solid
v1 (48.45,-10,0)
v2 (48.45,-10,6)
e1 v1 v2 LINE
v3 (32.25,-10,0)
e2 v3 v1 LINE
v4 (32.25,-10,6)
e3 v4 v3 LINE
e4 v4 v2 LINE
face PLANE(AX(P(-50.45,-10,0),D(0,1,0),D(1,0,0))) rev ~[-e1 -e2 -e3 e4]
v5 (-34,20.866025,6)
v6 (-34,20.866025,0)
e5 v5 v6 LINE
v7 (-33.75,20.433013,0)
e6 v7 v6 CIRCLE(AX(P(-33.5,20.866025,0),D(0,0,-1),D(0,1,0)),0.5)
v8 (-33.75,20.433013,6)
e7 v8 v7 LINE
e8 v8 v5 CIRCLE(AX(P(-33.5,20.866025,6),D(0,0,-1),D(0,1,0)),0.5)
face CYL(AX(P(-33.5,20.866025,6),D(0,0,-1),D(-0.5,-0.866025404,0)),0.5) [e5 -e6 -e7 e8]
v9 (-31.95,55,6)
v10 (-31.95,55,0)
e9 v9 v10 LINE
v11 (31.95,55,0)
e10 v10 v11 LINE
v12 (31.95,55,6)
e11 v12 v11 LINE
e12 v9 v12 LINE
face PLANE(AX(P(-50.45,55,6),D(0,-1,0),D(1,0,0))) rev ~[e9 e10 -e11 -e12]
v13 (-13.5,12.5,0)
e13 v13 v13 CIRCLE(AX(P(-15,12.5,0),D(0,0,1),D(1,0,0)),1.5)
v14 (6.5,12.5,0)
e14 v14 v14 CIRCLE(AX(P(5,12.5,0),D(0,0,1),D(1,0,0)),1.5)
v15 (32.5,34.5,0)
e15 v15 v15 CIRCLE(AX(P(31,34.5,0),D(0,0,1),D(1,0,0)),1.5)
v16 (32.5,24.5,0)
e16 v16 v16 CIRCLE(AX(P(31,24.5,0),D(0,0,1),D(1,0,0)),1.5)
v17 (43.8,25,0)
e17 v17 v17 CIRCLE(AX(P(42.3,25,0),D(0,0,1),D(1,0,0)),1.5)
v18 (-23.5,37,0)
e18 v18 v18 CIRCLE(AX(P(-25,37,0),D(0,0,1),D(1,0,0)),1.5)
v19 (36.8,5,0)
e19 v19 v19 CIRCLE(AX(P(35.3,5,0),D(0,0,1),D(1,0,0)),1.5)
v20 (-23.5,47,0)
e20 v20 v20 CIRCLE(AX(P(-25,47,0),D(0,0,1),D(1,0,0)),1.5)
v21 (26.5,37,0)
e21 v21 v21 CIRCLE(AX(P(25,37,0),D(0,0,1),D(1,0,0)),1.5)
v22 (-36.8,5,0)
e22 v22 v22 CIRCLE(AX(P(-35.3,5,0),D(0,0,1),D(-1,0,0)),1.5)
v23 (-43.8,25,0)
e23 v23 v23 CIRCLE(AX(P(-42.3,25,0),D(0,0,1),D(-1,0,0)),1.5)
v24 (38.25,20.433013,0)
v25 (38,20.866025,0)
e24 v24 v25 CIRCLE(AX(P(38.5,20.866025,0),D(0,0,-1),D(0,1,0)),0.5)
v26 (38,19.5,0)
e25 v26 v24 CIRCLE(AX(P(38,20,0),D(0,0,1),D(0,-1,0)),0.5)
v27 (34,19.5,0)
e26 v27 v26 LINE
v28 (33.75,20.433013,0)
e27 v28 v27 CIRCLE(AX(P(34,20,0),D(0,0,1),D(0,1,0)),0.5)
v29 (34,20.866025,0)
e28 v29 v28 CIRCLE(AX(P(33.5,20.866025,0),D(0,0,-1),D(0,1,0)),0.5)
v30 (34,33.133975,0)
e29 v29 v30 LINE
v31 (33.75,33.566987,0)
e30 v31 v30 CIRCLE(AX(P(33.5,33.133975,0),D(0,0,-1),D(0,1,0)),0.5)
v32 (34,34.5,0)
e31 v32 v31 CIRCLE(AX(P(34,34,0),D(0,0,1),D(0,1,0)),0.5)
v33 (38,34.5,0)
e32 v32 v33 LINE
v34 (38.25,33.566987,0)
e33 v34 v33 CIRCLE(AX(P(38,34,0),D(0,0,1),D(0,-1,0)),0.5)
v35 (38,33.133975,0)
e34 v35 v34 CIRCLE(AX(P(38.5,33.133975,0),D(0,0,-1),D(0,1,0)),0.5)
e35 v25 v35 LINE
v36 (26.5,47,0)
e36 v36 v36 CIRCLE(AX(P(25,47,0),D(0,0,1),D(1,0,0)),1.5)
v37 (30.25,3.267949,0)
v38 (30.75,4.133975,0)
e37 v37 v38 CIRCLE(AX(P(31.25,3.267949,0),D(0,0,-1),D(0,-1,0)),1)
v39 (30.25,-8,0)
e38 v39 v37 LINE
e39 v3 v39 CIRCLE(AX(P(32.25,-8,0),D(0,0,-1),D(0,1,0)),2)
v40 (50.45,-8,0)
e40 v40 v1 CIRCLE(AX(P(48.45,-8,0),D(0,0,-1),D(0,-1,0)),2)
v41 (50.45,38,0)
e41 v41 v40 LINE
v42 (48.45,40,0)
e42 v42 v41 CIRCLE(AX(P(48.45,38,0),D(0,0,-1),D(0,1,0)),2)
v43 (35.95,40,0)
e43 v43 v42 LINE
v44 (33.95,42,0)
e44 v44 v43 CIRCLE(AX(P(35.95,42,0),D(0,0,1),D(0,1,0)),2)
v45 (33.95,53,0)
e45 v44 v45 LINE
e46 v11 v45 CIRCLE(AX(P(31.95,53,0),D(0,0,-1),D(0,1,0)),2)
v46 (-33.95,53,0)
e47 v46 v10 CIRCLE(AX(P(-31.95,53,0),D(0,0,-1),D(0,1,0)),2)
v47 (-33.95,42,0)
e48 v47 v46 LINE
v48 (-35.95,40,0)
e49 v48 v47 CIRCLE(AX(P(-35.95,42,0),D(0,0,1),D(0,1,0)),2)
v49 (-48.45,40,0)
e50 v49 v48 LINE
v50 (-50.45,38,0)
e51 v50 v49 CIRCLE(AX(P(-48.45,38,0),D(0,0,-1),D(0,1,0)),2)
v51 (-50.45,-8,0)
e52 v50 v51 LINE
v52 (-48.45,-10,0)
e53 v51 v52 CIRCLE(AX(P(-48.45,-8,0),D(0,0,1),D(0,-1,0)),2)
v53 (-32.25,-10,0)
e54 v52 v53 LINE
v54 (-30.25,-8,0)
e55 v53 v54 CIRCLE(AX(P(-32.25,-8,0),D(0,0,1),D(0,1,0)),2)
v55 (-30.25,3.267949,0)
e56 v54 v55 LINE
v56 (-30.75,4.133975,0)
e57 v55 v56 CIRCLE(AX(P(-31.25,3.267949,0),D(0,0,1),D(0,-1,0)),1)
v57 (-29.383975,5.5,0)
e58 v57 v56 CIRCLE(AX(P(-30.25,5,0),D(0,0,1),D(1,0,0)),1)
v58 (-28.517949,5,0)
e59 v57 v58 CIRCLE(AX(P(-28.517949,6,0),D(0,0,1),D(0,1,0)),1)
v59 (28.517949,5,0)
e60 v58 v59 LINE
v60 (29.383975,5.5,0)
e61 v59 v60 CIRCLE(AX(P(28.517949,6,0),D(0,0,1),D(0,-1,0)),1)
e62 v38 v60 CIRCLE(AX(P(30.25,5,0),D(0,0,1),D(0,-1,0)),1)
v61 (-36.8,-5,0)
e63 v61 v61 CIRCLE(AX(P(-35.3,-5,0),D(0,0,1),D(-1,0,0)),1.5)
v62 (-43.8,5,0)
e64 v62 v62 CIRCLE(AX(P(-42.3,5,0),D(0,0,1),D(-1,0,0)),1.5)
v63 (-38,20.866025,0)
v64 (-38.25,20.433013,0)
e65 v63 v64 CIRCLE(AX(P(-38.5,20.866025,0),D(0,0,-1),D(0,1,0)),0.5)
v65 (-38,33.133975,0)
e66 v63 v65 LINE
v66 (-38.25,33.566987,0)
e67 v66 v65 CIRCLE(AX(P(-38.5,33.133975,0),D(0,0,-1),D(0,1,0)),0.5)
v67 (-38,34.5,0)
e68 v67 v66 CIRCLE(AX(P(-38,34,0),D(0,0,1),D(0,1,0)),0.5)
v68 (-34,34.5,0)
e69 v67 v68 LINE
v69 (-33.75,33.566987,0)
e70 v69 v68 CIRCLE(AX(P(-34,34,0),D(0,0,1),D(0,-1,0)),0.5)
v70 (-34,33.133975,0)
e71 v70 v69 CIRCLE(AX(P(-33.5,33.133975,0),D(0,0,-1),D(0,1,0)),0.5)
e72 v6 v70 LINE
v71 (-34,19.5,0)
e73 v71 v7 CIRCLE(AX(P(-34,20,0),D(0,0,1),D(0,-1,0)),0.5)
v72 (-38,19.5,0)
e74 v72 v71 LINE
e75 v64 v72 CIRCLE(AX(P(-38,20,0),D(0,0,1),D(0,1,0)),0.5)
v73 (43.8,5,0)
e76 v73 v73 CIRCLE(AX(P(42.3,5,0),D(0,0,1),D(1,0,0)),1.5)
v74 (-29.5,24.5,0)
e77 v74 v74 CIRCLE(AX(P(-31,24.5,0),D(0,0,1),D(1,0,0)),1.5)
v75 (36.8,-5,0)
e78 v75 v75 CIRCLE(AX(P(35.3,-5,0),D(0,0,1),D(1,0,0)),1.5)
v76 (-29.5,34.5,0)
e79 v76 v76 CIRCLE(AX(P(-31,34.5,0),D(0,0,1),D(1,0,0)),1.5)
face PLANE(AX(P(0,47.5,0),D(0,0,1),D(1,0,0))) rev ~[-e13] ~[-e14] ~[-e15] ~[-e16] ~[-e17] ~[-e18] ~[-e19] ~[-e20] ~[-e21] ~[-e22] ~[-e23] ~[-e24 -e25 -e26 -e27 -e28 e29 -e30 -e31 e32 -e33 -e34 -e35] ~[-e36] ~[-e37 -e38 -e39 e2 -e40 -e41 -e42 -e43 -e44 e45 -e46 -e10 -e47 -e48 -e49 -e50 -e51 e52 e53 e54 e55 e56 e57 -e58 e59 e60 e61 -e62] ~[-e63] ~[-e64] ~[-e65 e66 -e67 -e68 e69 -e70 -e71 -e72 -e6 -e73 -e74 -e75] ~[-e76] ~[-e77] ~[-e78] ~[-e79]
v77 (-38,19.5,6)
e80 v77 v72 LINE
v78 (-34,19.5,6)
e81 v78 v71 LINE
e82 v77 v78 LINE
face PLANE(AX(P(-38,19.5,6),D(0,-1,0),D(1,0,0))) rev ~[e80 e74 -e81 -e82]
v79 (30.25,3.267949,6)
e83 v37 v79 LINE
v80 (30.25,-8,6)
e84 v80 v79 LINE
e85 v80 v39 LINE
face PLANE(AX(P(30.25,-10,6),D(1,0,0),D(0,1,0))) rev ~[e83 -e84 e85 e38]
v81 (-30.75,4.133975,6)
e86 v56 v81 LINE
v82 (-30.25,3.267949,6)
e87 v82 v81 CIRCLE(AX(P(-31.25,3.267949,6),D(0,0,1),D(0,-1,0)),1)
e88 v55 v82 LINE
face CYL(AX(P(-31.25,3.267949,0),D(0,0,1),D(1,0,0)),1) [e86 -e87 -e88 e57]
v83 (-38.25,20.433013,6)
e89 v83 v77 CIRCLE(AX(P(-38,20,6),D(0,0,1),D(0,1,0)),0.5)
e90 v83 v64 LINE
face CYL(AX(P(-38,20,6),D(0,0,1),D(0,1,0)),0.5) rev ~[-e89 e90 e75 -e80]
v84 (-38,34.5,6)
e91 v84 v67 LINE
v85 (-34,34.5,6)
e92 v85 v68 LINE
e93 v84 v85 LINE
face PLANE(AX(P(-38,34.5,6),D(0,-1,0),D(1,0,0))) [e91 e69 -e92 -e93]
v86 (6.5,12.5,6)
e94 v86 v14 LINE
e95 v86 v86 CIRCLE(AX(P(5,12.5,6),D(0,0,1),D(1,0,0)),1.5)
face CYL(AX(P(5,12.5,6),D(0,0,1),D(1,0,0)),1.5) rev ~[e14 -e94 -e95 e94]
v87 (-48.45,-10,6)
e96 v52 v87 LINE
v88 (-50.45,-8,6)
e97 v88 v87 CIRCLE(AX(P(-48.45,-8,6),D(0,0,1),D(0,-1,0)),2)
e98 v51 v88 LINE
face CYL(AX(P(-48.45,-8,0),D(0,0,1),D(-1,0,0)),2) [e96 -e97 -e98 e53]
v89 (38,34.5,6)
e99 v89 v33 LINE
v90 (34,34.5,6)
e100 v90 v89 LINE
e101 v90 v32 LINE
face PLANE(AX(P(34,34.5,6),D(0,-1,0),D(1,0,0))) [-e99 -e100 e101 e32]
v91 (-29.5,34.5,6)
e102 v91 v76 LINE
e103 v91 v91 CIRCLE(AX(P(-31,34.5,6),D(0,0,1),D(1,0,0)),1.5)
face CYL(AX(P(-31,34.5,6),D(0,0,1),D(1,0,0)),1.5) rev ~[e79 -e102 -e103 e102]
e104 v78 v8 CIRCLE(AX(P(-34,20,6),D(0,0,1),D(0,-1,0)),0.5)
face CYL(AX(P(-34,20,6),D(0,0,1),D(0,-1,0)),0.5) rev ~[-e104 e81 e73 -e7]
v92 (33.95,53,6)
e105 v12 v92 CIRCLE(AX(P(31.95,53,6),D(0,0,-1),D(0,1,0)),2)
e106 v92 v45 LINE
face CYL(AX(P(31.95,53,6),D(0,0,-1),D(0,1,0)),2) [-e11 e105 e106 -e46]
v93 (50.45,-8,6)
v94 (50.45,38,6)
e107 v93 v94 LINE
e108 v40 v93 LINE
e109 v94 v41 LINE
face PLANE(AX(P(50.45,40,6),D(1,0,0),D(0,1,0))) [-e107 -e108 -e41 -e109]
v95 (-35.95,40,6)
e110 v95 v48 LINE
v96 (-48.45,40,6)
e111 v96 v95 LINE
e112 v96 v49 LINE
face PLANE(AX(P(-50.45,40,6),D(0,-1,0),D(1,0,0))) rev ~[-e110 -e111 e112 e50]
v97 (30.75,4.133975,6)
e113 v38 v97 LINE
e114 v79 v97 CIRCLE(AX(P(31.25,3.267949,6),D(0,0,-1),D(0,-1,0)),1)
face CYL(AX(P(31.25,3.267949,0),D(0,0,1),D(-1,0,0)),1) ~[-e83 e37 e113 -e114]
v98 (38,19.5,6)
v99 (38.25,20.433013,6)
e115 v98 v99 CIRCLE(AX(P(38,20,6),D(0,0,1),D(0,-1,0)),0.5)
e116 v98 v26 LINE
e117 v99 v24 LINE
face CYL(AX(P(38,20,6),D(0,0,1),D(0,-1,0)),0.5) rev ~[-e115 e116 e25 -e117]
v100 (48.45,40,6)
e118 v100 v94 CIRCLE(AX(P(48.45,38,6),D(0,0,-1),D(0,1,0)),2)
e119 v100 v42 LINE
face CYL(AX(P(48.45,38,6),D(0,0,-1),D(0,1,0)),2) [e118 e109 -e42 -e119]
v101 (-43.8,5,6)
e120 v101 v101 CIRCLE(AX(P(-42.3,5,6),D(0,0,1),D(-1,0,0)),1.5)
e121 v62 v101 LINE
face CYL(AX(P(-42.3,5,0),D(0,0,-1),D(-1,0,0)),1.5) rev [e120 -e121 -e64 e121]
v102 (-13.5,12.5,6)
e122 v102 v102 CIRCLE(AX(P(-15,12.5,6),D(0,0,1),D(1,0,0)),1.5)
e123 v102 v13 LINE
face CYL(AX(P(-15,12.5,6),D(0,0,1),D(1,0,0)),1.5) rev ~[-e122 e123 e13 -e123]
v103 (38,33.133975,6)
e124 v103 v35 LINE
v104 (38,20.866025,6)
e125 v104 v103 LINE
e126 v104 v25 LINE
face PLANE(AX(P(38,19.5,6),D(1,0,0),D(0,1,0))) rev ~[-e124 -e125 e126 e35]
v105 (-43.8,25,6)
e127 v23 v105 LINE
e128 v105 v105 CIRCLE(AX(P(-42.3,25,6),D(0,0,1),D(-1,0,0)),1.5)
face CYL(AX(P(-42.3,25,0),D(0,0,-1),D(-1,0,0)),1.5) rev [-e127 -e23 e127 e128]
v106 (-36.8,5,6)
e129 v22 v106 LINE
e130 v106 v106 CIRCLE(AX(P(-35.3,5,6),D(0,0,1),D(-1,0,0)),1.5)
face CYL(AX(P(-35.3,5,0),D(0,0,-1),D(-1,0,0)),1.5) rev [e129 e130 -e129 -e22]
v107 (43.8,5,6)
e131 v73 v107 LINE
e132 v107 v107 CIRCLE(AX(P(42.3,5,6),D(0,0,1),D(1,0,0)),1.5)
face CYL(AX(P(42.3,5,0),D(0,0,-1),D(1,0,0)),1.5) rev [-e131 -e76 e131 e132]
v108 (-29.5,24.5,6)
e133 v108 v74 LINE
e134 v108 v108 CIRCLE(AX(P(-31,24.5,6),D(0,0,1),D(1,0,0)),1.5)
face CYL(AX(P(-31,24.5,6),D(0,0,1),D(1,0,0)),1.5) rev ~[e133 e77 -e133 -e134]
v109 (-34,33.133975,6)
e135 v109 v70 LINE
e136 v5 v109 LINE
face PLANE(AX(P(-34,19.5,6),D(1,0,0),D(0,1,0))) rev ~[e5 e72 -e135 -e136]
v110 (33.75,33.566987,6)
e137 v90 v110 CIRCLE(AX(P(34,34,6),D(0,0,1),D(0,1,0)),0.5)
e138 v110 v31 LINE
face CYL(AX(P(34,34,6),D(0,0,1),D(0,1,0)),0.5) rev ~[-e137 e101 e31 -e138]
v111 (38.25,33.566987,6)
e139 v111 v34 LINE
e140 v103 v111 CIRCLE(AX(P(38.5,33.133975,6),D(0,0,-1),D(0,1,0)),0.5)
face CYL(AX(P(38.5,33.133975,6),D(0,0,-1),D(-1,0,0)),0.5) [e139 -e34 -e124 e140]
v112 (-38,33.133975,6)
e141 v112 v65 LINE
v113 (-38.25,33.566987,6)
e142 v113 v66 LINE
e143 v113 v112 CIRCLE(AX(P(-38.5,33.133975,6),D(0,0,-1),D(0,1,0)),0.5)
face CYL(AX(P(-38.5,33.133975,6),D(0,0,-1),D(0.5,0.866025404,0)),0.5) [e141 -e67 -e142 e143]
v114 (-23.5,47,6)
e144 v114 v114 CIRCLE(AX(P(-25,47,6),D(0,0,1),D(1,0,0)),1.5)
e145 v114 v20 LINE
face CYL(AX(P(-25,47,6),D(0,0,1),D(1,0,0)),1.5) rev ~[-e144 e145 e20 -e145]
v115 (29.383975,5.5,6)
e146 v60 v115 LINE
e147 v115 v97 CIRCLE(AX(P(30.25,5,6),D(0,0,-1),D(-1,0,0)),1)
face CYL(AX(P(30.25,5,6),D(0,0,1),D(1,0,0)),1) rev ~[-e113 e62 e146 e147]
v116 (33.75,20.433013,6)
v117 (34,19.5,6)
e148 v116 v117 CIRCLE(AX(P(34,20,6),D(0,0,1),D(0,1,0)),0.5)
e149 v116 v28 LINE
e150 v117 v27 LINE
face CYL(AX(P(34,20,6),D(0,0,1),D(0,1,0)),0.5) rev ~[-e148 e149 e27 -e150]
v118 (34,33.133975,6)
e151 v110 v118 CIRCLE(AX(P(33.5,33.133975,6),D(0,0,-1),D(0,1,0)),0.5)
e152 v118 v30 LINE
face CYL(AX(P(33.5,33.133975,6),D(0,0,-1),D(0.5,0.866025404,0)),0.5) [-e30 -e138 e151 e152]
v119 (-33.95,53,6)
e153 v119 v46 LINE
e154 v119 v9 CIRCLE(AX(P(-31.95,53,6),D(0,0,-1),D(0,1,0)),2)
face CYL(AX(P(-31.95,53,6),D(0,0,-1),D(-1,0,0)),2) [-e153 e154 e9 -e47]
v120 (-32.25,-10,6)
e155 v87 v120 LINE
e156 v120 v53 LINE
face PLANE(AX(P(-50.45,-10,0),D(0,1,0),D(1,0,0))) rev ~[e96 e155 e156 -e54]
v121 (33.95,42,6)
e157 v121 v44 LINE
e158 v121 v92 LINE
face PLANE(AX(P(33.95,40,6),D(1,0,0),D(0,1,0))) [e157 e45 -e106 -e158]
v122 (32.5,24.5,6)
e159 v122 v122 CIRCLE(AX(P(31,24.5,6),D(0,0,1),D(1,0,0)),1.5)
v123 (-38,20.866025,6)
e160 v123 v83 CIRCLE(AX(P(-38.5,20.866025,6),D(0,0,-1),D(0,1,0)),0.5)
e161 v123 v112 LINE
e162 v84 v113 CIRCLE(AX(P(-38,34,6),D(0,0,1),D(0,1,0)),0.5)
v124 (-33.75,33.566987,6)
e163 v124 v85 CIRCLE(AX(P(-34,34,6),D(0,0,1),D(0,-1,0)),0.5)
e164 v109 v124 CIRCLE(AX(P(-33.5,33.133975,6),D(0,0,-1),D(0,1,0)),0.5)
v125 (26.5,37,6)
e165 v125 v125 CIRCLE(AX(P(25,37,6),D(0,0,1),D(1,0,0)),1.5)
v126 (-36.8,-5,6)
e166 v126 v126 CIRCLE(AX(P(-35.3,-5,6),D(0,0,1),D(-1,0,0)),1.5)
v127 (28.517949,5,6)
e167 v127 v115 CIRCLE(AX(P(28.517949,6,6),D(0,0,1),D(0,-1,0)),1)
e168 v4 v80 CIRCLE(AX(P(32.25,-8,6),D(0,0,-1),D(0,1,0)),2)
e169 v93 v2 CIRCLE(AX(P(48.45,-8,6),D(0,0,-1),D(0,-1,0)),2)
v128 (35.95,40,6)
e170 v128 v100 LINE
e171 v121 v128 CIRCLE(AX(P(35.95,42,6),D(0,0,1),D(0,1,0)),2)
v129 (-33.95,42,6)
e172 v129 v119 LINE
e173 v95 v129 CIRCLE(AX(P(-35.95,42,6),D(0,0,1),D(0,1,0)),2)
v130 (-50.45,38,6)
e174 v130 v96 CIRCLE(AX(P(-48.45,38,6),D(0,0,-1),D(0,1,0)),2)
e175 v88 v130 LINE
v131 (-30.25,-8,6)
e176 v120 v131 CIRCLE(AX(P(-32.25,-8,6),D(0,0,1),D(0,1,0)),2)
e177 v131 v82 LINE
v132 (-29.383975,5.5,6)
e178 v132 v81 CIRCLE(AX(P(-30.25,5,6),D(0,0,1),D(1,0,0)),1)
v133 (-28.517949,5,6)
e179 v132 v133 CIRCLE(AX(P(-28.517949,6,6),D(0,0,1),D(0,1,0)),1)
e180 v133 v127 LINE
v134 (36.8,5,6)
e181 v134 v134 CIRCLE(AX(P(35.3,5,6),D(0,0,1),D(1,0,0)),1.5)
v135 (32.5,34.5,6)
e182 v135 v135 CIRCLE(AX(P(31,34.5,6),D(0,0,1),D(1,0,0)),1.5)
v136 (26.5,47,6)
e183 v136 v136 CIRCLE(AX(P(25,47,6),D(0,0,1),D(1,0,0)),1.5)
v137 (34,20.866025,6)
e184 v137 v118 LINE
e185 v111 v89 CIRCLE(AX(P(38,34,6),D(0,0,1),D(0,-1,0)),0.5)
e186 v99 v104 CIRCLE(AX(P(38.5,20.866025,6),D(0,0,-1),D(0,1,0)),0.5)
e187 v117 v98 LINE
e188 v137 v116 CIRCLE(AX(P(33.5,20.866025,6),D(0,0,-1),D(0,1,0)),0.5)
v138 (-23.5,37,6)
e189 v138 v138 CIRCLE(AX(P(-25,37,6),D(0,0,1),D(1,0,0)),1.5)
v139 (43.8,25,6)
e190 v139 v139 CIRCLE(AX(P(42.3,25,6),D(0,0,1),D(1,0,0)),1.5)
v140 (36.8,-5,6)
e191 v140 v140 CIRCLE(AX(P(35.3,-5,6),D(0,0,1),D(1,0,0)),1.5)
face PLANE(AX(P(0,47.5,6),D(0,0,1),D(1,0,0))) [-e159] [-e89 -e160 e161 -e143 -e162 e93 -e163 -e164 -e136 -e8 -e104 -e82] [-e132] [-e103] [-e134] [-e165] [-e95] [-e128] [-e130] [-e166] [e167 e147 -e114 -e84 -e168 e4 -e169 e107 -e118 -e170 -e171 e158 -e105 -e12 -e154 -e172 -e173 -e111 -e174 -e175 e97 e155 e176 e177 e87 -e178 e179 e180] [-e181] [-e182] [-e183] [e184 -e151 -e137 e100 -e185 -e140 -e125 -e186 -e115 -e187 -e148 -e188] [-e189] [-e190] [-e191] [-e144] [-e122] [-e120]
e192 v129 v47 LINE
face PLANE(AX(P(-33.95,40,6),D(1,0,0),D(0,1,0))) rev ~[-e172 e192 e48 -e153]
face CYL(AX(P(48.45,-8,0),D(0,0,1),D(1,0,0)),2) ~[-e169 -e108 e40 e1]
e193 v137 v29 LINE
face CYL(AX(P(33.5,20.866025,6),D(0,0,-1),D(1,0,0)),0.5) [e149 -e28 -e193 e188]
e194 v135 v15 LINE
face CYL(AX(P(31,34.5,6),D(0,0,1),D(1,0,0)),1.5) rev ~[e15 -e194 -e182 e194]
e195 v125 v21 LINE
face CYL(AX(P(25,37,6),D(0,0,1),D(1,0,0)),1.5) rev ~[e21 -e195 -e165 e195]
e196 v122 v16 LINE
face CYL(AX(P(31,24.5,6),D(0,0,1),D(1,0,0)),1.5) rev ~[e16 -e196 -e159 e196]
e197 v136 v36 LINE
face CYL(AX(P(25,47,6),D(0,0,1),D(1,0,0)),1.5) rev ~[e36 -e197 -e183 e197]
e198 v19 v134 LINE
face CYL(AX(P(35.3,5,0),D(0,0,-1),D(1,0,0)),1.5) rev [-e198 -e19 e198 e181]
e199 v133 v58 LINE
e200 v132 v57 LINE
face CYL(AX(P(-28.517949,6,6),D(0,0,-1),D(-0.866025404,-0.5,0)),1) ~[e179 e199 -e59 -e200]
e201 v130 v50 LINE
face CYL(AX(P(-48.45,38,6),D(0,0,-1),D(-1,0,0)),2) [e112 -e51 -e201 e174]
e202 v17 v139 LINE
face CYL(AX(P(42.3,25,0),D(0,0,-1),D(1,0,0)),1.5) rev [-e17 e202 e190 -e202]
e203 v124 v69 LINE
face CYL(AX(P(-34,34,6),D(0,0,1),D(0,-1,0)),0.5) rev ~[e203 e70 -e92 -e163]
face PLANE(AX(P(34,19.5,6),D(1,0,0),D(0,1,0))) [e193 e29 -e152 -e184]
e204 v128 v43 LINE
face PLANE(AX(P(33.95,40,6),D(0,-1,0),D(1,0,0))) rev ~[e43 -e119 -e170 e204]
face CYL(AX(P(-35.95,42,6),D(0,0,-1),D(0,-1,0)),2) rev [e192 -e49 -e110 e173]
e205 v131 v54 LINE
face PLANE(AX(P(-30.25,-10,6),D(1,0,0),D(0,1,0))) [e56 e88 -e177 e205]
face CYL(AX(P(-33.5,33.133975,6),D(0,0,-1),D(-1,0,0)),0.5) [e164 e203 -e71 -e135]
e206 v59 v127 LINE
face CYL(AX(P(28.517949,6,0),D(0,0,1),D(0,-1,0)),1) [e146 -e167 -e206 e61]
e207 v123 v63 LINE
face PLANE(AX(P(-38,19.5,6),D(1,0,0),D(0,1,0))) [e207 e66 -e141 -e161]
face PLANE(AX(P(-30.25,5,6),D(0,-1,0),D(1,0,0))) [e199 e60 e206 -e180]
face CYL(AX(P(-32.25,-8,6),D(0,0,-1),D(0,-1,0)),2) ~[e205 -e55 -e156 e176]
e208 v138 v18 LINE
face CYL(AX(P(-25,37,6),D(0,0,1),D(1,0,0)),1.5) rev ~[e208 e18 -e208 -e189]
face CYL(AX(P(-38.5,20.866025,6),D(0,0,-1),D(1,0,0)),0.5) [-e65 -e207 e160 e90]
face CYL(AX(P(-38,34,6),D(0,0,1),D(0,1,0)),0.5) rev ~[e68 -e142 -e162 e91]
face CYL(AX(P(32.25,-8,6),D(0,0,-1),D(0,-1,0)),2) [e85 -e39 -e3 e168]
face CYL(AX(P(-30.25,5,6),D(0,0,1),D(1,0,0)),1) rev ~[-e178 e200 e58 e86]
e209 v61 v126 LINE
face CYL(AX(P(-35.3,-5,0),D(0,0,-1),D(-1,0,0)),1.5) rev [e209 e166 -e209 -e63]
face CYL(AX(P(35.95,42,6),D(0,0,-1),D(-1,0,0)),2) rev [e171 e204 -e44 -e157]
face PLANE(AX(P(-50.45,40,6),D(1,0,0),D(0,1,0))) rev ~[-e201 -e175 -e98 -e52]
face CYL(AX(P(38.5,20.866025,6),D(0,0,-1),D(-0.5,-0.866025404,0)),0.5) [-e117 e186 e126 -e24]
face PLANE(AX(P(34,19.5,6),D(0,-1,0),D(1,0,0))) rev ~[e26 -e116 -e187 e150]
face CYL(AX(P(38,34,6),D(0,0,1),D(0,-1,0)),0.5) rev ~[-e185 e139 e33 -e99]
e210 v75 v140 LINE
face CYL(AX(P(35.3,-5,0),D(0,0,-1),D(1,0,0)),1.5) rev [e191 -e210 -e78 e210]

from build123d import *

# Parameters (mm, degrees)
SKETCH_1_W           = 100.9
SKETCH_1_H           = 40
SKETCH_1_R           = 1.5
EXTRUDE_1_DEPTH      = 6
SKETCH_6_W           = 100.9
SKETCH_6_H           = 10
EXTRUDE_2_DEPTH      = 6
SKETCH_2_W           = 60.5
SKETCH_2_H           = 15
CUT_EXTRUDE_1_DEPTH  = 10
SKETCH_3_R           = 1
CUT_EXTRUDE_2_DEPTH  = 10
SKETCH_4_R           = 1.5
CUT_EXTRUDE_3_DEPTH  = 10
SKETCH_5_R           = 1.5
CUT_EXTRUDE_4_DEPTH  = 10
SKETCH_7_W           = 4
SKETCH_7_H           = 15
CUT_EXTRUDE_5_DEPTH  = 6
CUT_EXTRUDE_6_DEPTH  = 6
FILLET_1_R           = 0.5
FILLET_2_R           = 1
SKETCH_9_W           = 100.9
SKETCH_9_H           = 15
EXTRUDE_3_DEPTH      = 6
SKETCH_10_W          = 16.5
SKETCH_10_H          = 15
CUT_EXTRUDE_7_DEPTH  = 6
SKETCH_11_W          = 6
SKETCH_11_H          = 15
EXTRUDE_4_DEPTH      = 20
SKETCH_12_R          = 2.5
CUT_EXTRUDE_8_DEPTH  = 6
SKETCH_13_R          = 1.5
CUT_EXTRUDE_9_DEPTH  = 6
SKETCH_14_R          = 1.5
CUT_EXTRUDE_10_DEPTH = 6
SKETCH_15_W          = 20
SKETCH_15_H          = 2
EXTRUDE_5_DEPTH      = 6
FILLET_4_R           = 2
FILLET_5_R           = 2
SKETCH_19_R          = 4.5
SKETCH_19_R_2        = 2.5
EXTRUDE_6_DEPTH      = 55.9


with BuildPart() as part:
    # 草图1 → 凸台-拉伸1 (new body)
    with BuildSketch(Plane.XY):
        with Locations((0, 10)):
            Rectangle(SKETCH_1_W, SKETCH_1_H)
        with Locations((42.3, 25)):
            Circle(SKETCH_1_R, mode=Mode.SUBTRACT)
        with Locations((42.3, 5)):
            Circle(SKETCH_1_R, mode=Mode.SUBTRACT)
        with Locations((35.3, 5)):
            Circle(SKETCH_1_R, mode=Mode.SUBTRACT)
        with Locations((35.3, -5)):
            Circle(SKETCH_1_R, mode=Mode.SUBTRACT)
        with Locations(Location((-35.3, -5, 0), (0, 0, 180))):
            Circle(SKETCH_1_R, mode=Mode.SUBTRACT)
        with Locations(Location((-35.3, 5, 0), (0, 0, 180))):
            Circle(SKETCH_1_R, mode=Mode.SUBTRACT)
        with Locations(Location((-42.3, 5, 0), (0, 0, 180))):
            Circle(SKETCH_1_R, mode=Mode.SUBTRACT)
        with Locations(Location((-42.3, 25, 0), (0, 0, 180))):
            Circle(SKETCH_1_R, mode=Mode.SUBTRACT)
    extrude(amount=EXTRUDE_1_DEPTH)

    # 草图6 → 凸台-拉伸2 (add)
    with BuildSketch(Plane.XY.offset(6)):
        with Locations((0, 35)):
            Rectangle(SKETCH_6_W, SKETCH_6_H)
    extrude(amount=-EXTRUDE_2_DEPTH)

    # 草图2 → 切除-拉伸1 (cut)
    with BuildSketch(Plane.XY.offset(6)):
        with Locations((0, -2.5)):
            Rectangle(SKETCH_2_W, SKETCH_2_H)
    extrude(amount=-CUT_EXTRUDE_1_DEPTH, mode=Mode.SUBTRACT)

    # 草图3 → 切除-拉伸2 (cut)
    with BuildSketch(Plane.XY.offset(6)):
        with Locations((-30.25, 5)):
            Circle(SKETCH_3_R)
        with Locations((30.25, 5)):
            Circle(SKETCH_3_R)
    extrude(amount=-CUT_EXTRUDE_2_DEPTH, mode=Mode.SUBTRACT)

    # 草图4 → 切除-拉伸3 (cut)
    with BuildSketch(Plane.XY.offset(6)):
        with Locations((31, 34.5)):
            Circle(SKETCH_4_R)
        with Locations((31, 24.5)):
            Circle(SKETCH_4_R)
        with Locations((-31, 24.5)):
            Circle(SKETCH_4_R)
        with Locations((-31, 34.5)):
            Circle(SKETCH_4_R)
    extrude(amount=-CUT_EXTRUDE_3_DEPTH, mode=Mode.SUBTRACT)

    # 草图5 → 切除-拉伸4 (cut)
    with BuildSketch(Plane.XY.offset(6)):
        with Locations((-15, 12.5)):
            Circle(SKETCH_5_R)
        with Locations((5, 12.5)):
            Circle(SKETCH_5_R)
    extrude(amount=-CUT_EXTRUDE_4_DEPTH, mode=Mode.SUBTRACT)

    # 草图7 → 切除-拉伸5 (cut)
    with BuildSketch(Plane.XY.offset(6)):
        with Locations((36, 27)):
            Rectangle(SKETCH_7_W, SKETCH_7_H)
        with Locations((-36, 27)):
            Rectangle(SKETCH_7_W, SKETCH_7_H)
    extrude(amount=-CUT_EXTRUDE_5_DEPTH, mode=Mode.SUBTRACT)

    # 草图8 → 切除-拉伸6 (cut)
    with BuildSketch(Plane.XY.offset(6)):
        with BuildLine():
            Line((-38, 33.5), (-38, 34.5))
            ThreePointArc((-38, 34.5), (-38.5, 34), (-38, 33.5))
        make_face()
        with BuildLine():
            Line((-34, 34.5), (-34, 33.5))
            ThreePointArc((-34, 33.5), (-33.5, 34), (-34, 34.5))
        make_face()
        with BuildLine():
            Line((-38, 19.5), (-38, 20.5))
            ThreePointArc((-38, 20.5), (-38.5, 20), (-38, 19.5))
        make_face()
        with BuildLine():
            Line((-34, 20.5), (-34, 19.5))
            ThreePointArc((-34, 19.5), (-33.5, 20), (-34, 20.5))
        make_face()
        with BuildLine():
            ThreePointArc((38, 33.5), (38.5, 34), (38, 34.5))
            Line((38, 34.5), (38, 33.5))
        make_face()
        with BuildLine():
            ThreePointArc((34, 34.5), (33.5, 34), (34, 33.5))
            Line((34, 33.5), (34, 34.5))
        make_face()
        with BuildLine():
            ThreePointArc((34, 20.5), (33.5, 20), (34, 19.5))
            Line((34, 19.5), (34, 20.5))
        make_face()
        with BuildLine():
            ThreePointArc((38, 19.5), (38.5, 20), (38, 20.5))
            Line((38, 20.5), (38, 19.5))
        make_face()
    extrude(amount=-CUT_EXTRUDE_6_DEPTH, mode=Mode.SUBTRACT)

    # 圆角1
    fillet_1_edges = [part.edges().sort_by_distance(p)[0] for p in [
        (38, 33.5, 3),
        (-34, 20.5, 3),
        (-38, 20.5, 3),
        (-34, 33.5, 3),
        (34, 33.5, 3),
        (34, 20.5, 3),
        (38, 20.5, 3),
        (-38, 33.5, 3),
    ]]
    fillet(fillet_1_edges, radius=FILLET_1_R)

    # 圆角2
    fillet_2_edges = [part.edges().sort_by_distance(p)[0] for p in [
        (-30.25, 4, 3),
        (30.25, 4, 3),
        (-29.25, 5, 3),
        (29.25, 5, 3),
    ]]
    fillet(fillet_2_edges, radius=FILLET_2_R)

    # 草图9 → 凸台-拉伸3 (add)
    with BuildSketch(Plane.XY.offset(6)):
        with Locations((0, 47.5)):
            Rectangle(SKETCH_9_W, SKETCH_9_H)
    extrude(amount=-EXTRUDE_3_DEPTH)

    # 草图10 → 切除-拉伸7 (cut)
    with BuildSketch(Plane.XY.offset(6)):
        with Locations((-42.2, 47.5)):
            Rectangle(SKETCH_10_W, SKETCH_10_H)
        with Locations((42.2, 47.5)):
            Rectangle(SKETCH_10_W, SKETCH_10_H)
    extrude(amount=-CUT_EXTRUDE_7_DEPTH, mode=Mode.SUBTRACT)

    # 草图13 → 切除-拉伸9 (cut)
    with BuildSketch(Plane.XY.offset(6)):
        with Locations((-25, 47)):
            Circle(SKETCH_13_R)
        with Locations((-25, 37)):
            Circle(SKETCH_13_R)
        with Locations((25, 37)):
            Circle(SKETCH_13_R)
        with Locations((25, 47)):
            Circle(SKETCH_13_R)
    extrude(amount=-CUT_EXTRUDE_9_DEPTH, mode=Mode.SUBTRACT)

    # 圆角5
    fillet_5_edges = [part.edges().sort_by_distance(p)[0] for p in [
        (50.45, 40, 3),
        (33.95, 40, 3),
        (33.95, 55, 3),
        (-33.95, 55, 3),
        (-33.95, 40, 3),
        (-50.45, 40, 3),
        (-30.25, -10, 3),
        (30.25, -10, 3),
        (50.45, -10, 3),
        (-50.45, -10, 3),
    ]]
    fillet(fillet_5_edges, radius=FILLET_5_R)


with BuildPart() as body_2:
    # 草图11 → 凸台-拉伸4 (new body)
    with BuildSketch(Plane.XY.offset(6)):
        with Locations((30.95, 47.5)):
            Rectangle(SKETCH_11_W, SKETCH_11_H)
    extrude(amount=EXTRUDE_4_DEPTH)

    # 草图12 → 切除-拉伸8 (cut)
    with BuildSketch(Plane(origin=(33.95, 0, 0), x_dir=(0, 0, -1), z_dir=(1, 0, 0))):
        with Locations((-21, 46.5)):
            Circle(SKETCH_12_R)
    extrude(amount=-CUT_EXTRUDE_8_DEPTH, mode=Mode.SUBTRACT)

    # 草图14 → 切除-拉伸10 (cut)
    with BuildSketch(Plane(origin=(33.95, 0, 0), x_dir=(0, 0, -1), z_dir=(1, 0, 0))):
        with Locations((-9, 42)):
            Circle(SKETCH_14_R)
        with Locations((-9, 52)):
            Circle(SKETCH_14_R)
    extrude(amount=-CUT_EXTRUDE_10_DEPTH, mode=Mode.SUBTRACT)

    # 草图15 → 凸台-拉伸5 (add)
    with BuildSketch(Plane(origin=(33.95, 0, 0), x_dir=(0, 0, -1), z_dir=(1, 0, 0))):
        with Locations((-16, 39)):
            Rectangle(SKETCH_15_W, SKETCH_15_H)
    extrude(amount=-EXTRUDE_5_DEPTH)

    # 圆角4
    fillet_4_edges = [body_2.edges().sort_by_distance(p)[0] for p in [
        (30.95, 55, 26),
        (30.95, 38, 26),
    ]]
    fillet(fillet_4_edges, radius=FILLET_4_R)


with BuildPart() as body_3:
    # 镜向1: mirrored copy
    add(body_2.part.mirror(Plane(origin=(0, 0, 0), x_dir=(0, 0, 1), z_dir=(1, 0, 0))))


with BuildPart() as body_4:
    # 草图19 → 凸台-拉伸6 (new body)
    with BuildSketch(Plane(origin=(-27.95, 0, 0), x_dir=(0, 0, -1), z_dir=(1, 0, 0))):
        with Locations(Location((-21, 46.5, 0), (0, 0, 180))):
            Circle(SKETCH_19_R)
        with Locations((-21, 46.5)):
            Circle(SKETCH_19_R_2, mode=Mode.SUBTRACT)
    extrude(amount=EXTRUDE_6_DEPTH)


solid = part.part
